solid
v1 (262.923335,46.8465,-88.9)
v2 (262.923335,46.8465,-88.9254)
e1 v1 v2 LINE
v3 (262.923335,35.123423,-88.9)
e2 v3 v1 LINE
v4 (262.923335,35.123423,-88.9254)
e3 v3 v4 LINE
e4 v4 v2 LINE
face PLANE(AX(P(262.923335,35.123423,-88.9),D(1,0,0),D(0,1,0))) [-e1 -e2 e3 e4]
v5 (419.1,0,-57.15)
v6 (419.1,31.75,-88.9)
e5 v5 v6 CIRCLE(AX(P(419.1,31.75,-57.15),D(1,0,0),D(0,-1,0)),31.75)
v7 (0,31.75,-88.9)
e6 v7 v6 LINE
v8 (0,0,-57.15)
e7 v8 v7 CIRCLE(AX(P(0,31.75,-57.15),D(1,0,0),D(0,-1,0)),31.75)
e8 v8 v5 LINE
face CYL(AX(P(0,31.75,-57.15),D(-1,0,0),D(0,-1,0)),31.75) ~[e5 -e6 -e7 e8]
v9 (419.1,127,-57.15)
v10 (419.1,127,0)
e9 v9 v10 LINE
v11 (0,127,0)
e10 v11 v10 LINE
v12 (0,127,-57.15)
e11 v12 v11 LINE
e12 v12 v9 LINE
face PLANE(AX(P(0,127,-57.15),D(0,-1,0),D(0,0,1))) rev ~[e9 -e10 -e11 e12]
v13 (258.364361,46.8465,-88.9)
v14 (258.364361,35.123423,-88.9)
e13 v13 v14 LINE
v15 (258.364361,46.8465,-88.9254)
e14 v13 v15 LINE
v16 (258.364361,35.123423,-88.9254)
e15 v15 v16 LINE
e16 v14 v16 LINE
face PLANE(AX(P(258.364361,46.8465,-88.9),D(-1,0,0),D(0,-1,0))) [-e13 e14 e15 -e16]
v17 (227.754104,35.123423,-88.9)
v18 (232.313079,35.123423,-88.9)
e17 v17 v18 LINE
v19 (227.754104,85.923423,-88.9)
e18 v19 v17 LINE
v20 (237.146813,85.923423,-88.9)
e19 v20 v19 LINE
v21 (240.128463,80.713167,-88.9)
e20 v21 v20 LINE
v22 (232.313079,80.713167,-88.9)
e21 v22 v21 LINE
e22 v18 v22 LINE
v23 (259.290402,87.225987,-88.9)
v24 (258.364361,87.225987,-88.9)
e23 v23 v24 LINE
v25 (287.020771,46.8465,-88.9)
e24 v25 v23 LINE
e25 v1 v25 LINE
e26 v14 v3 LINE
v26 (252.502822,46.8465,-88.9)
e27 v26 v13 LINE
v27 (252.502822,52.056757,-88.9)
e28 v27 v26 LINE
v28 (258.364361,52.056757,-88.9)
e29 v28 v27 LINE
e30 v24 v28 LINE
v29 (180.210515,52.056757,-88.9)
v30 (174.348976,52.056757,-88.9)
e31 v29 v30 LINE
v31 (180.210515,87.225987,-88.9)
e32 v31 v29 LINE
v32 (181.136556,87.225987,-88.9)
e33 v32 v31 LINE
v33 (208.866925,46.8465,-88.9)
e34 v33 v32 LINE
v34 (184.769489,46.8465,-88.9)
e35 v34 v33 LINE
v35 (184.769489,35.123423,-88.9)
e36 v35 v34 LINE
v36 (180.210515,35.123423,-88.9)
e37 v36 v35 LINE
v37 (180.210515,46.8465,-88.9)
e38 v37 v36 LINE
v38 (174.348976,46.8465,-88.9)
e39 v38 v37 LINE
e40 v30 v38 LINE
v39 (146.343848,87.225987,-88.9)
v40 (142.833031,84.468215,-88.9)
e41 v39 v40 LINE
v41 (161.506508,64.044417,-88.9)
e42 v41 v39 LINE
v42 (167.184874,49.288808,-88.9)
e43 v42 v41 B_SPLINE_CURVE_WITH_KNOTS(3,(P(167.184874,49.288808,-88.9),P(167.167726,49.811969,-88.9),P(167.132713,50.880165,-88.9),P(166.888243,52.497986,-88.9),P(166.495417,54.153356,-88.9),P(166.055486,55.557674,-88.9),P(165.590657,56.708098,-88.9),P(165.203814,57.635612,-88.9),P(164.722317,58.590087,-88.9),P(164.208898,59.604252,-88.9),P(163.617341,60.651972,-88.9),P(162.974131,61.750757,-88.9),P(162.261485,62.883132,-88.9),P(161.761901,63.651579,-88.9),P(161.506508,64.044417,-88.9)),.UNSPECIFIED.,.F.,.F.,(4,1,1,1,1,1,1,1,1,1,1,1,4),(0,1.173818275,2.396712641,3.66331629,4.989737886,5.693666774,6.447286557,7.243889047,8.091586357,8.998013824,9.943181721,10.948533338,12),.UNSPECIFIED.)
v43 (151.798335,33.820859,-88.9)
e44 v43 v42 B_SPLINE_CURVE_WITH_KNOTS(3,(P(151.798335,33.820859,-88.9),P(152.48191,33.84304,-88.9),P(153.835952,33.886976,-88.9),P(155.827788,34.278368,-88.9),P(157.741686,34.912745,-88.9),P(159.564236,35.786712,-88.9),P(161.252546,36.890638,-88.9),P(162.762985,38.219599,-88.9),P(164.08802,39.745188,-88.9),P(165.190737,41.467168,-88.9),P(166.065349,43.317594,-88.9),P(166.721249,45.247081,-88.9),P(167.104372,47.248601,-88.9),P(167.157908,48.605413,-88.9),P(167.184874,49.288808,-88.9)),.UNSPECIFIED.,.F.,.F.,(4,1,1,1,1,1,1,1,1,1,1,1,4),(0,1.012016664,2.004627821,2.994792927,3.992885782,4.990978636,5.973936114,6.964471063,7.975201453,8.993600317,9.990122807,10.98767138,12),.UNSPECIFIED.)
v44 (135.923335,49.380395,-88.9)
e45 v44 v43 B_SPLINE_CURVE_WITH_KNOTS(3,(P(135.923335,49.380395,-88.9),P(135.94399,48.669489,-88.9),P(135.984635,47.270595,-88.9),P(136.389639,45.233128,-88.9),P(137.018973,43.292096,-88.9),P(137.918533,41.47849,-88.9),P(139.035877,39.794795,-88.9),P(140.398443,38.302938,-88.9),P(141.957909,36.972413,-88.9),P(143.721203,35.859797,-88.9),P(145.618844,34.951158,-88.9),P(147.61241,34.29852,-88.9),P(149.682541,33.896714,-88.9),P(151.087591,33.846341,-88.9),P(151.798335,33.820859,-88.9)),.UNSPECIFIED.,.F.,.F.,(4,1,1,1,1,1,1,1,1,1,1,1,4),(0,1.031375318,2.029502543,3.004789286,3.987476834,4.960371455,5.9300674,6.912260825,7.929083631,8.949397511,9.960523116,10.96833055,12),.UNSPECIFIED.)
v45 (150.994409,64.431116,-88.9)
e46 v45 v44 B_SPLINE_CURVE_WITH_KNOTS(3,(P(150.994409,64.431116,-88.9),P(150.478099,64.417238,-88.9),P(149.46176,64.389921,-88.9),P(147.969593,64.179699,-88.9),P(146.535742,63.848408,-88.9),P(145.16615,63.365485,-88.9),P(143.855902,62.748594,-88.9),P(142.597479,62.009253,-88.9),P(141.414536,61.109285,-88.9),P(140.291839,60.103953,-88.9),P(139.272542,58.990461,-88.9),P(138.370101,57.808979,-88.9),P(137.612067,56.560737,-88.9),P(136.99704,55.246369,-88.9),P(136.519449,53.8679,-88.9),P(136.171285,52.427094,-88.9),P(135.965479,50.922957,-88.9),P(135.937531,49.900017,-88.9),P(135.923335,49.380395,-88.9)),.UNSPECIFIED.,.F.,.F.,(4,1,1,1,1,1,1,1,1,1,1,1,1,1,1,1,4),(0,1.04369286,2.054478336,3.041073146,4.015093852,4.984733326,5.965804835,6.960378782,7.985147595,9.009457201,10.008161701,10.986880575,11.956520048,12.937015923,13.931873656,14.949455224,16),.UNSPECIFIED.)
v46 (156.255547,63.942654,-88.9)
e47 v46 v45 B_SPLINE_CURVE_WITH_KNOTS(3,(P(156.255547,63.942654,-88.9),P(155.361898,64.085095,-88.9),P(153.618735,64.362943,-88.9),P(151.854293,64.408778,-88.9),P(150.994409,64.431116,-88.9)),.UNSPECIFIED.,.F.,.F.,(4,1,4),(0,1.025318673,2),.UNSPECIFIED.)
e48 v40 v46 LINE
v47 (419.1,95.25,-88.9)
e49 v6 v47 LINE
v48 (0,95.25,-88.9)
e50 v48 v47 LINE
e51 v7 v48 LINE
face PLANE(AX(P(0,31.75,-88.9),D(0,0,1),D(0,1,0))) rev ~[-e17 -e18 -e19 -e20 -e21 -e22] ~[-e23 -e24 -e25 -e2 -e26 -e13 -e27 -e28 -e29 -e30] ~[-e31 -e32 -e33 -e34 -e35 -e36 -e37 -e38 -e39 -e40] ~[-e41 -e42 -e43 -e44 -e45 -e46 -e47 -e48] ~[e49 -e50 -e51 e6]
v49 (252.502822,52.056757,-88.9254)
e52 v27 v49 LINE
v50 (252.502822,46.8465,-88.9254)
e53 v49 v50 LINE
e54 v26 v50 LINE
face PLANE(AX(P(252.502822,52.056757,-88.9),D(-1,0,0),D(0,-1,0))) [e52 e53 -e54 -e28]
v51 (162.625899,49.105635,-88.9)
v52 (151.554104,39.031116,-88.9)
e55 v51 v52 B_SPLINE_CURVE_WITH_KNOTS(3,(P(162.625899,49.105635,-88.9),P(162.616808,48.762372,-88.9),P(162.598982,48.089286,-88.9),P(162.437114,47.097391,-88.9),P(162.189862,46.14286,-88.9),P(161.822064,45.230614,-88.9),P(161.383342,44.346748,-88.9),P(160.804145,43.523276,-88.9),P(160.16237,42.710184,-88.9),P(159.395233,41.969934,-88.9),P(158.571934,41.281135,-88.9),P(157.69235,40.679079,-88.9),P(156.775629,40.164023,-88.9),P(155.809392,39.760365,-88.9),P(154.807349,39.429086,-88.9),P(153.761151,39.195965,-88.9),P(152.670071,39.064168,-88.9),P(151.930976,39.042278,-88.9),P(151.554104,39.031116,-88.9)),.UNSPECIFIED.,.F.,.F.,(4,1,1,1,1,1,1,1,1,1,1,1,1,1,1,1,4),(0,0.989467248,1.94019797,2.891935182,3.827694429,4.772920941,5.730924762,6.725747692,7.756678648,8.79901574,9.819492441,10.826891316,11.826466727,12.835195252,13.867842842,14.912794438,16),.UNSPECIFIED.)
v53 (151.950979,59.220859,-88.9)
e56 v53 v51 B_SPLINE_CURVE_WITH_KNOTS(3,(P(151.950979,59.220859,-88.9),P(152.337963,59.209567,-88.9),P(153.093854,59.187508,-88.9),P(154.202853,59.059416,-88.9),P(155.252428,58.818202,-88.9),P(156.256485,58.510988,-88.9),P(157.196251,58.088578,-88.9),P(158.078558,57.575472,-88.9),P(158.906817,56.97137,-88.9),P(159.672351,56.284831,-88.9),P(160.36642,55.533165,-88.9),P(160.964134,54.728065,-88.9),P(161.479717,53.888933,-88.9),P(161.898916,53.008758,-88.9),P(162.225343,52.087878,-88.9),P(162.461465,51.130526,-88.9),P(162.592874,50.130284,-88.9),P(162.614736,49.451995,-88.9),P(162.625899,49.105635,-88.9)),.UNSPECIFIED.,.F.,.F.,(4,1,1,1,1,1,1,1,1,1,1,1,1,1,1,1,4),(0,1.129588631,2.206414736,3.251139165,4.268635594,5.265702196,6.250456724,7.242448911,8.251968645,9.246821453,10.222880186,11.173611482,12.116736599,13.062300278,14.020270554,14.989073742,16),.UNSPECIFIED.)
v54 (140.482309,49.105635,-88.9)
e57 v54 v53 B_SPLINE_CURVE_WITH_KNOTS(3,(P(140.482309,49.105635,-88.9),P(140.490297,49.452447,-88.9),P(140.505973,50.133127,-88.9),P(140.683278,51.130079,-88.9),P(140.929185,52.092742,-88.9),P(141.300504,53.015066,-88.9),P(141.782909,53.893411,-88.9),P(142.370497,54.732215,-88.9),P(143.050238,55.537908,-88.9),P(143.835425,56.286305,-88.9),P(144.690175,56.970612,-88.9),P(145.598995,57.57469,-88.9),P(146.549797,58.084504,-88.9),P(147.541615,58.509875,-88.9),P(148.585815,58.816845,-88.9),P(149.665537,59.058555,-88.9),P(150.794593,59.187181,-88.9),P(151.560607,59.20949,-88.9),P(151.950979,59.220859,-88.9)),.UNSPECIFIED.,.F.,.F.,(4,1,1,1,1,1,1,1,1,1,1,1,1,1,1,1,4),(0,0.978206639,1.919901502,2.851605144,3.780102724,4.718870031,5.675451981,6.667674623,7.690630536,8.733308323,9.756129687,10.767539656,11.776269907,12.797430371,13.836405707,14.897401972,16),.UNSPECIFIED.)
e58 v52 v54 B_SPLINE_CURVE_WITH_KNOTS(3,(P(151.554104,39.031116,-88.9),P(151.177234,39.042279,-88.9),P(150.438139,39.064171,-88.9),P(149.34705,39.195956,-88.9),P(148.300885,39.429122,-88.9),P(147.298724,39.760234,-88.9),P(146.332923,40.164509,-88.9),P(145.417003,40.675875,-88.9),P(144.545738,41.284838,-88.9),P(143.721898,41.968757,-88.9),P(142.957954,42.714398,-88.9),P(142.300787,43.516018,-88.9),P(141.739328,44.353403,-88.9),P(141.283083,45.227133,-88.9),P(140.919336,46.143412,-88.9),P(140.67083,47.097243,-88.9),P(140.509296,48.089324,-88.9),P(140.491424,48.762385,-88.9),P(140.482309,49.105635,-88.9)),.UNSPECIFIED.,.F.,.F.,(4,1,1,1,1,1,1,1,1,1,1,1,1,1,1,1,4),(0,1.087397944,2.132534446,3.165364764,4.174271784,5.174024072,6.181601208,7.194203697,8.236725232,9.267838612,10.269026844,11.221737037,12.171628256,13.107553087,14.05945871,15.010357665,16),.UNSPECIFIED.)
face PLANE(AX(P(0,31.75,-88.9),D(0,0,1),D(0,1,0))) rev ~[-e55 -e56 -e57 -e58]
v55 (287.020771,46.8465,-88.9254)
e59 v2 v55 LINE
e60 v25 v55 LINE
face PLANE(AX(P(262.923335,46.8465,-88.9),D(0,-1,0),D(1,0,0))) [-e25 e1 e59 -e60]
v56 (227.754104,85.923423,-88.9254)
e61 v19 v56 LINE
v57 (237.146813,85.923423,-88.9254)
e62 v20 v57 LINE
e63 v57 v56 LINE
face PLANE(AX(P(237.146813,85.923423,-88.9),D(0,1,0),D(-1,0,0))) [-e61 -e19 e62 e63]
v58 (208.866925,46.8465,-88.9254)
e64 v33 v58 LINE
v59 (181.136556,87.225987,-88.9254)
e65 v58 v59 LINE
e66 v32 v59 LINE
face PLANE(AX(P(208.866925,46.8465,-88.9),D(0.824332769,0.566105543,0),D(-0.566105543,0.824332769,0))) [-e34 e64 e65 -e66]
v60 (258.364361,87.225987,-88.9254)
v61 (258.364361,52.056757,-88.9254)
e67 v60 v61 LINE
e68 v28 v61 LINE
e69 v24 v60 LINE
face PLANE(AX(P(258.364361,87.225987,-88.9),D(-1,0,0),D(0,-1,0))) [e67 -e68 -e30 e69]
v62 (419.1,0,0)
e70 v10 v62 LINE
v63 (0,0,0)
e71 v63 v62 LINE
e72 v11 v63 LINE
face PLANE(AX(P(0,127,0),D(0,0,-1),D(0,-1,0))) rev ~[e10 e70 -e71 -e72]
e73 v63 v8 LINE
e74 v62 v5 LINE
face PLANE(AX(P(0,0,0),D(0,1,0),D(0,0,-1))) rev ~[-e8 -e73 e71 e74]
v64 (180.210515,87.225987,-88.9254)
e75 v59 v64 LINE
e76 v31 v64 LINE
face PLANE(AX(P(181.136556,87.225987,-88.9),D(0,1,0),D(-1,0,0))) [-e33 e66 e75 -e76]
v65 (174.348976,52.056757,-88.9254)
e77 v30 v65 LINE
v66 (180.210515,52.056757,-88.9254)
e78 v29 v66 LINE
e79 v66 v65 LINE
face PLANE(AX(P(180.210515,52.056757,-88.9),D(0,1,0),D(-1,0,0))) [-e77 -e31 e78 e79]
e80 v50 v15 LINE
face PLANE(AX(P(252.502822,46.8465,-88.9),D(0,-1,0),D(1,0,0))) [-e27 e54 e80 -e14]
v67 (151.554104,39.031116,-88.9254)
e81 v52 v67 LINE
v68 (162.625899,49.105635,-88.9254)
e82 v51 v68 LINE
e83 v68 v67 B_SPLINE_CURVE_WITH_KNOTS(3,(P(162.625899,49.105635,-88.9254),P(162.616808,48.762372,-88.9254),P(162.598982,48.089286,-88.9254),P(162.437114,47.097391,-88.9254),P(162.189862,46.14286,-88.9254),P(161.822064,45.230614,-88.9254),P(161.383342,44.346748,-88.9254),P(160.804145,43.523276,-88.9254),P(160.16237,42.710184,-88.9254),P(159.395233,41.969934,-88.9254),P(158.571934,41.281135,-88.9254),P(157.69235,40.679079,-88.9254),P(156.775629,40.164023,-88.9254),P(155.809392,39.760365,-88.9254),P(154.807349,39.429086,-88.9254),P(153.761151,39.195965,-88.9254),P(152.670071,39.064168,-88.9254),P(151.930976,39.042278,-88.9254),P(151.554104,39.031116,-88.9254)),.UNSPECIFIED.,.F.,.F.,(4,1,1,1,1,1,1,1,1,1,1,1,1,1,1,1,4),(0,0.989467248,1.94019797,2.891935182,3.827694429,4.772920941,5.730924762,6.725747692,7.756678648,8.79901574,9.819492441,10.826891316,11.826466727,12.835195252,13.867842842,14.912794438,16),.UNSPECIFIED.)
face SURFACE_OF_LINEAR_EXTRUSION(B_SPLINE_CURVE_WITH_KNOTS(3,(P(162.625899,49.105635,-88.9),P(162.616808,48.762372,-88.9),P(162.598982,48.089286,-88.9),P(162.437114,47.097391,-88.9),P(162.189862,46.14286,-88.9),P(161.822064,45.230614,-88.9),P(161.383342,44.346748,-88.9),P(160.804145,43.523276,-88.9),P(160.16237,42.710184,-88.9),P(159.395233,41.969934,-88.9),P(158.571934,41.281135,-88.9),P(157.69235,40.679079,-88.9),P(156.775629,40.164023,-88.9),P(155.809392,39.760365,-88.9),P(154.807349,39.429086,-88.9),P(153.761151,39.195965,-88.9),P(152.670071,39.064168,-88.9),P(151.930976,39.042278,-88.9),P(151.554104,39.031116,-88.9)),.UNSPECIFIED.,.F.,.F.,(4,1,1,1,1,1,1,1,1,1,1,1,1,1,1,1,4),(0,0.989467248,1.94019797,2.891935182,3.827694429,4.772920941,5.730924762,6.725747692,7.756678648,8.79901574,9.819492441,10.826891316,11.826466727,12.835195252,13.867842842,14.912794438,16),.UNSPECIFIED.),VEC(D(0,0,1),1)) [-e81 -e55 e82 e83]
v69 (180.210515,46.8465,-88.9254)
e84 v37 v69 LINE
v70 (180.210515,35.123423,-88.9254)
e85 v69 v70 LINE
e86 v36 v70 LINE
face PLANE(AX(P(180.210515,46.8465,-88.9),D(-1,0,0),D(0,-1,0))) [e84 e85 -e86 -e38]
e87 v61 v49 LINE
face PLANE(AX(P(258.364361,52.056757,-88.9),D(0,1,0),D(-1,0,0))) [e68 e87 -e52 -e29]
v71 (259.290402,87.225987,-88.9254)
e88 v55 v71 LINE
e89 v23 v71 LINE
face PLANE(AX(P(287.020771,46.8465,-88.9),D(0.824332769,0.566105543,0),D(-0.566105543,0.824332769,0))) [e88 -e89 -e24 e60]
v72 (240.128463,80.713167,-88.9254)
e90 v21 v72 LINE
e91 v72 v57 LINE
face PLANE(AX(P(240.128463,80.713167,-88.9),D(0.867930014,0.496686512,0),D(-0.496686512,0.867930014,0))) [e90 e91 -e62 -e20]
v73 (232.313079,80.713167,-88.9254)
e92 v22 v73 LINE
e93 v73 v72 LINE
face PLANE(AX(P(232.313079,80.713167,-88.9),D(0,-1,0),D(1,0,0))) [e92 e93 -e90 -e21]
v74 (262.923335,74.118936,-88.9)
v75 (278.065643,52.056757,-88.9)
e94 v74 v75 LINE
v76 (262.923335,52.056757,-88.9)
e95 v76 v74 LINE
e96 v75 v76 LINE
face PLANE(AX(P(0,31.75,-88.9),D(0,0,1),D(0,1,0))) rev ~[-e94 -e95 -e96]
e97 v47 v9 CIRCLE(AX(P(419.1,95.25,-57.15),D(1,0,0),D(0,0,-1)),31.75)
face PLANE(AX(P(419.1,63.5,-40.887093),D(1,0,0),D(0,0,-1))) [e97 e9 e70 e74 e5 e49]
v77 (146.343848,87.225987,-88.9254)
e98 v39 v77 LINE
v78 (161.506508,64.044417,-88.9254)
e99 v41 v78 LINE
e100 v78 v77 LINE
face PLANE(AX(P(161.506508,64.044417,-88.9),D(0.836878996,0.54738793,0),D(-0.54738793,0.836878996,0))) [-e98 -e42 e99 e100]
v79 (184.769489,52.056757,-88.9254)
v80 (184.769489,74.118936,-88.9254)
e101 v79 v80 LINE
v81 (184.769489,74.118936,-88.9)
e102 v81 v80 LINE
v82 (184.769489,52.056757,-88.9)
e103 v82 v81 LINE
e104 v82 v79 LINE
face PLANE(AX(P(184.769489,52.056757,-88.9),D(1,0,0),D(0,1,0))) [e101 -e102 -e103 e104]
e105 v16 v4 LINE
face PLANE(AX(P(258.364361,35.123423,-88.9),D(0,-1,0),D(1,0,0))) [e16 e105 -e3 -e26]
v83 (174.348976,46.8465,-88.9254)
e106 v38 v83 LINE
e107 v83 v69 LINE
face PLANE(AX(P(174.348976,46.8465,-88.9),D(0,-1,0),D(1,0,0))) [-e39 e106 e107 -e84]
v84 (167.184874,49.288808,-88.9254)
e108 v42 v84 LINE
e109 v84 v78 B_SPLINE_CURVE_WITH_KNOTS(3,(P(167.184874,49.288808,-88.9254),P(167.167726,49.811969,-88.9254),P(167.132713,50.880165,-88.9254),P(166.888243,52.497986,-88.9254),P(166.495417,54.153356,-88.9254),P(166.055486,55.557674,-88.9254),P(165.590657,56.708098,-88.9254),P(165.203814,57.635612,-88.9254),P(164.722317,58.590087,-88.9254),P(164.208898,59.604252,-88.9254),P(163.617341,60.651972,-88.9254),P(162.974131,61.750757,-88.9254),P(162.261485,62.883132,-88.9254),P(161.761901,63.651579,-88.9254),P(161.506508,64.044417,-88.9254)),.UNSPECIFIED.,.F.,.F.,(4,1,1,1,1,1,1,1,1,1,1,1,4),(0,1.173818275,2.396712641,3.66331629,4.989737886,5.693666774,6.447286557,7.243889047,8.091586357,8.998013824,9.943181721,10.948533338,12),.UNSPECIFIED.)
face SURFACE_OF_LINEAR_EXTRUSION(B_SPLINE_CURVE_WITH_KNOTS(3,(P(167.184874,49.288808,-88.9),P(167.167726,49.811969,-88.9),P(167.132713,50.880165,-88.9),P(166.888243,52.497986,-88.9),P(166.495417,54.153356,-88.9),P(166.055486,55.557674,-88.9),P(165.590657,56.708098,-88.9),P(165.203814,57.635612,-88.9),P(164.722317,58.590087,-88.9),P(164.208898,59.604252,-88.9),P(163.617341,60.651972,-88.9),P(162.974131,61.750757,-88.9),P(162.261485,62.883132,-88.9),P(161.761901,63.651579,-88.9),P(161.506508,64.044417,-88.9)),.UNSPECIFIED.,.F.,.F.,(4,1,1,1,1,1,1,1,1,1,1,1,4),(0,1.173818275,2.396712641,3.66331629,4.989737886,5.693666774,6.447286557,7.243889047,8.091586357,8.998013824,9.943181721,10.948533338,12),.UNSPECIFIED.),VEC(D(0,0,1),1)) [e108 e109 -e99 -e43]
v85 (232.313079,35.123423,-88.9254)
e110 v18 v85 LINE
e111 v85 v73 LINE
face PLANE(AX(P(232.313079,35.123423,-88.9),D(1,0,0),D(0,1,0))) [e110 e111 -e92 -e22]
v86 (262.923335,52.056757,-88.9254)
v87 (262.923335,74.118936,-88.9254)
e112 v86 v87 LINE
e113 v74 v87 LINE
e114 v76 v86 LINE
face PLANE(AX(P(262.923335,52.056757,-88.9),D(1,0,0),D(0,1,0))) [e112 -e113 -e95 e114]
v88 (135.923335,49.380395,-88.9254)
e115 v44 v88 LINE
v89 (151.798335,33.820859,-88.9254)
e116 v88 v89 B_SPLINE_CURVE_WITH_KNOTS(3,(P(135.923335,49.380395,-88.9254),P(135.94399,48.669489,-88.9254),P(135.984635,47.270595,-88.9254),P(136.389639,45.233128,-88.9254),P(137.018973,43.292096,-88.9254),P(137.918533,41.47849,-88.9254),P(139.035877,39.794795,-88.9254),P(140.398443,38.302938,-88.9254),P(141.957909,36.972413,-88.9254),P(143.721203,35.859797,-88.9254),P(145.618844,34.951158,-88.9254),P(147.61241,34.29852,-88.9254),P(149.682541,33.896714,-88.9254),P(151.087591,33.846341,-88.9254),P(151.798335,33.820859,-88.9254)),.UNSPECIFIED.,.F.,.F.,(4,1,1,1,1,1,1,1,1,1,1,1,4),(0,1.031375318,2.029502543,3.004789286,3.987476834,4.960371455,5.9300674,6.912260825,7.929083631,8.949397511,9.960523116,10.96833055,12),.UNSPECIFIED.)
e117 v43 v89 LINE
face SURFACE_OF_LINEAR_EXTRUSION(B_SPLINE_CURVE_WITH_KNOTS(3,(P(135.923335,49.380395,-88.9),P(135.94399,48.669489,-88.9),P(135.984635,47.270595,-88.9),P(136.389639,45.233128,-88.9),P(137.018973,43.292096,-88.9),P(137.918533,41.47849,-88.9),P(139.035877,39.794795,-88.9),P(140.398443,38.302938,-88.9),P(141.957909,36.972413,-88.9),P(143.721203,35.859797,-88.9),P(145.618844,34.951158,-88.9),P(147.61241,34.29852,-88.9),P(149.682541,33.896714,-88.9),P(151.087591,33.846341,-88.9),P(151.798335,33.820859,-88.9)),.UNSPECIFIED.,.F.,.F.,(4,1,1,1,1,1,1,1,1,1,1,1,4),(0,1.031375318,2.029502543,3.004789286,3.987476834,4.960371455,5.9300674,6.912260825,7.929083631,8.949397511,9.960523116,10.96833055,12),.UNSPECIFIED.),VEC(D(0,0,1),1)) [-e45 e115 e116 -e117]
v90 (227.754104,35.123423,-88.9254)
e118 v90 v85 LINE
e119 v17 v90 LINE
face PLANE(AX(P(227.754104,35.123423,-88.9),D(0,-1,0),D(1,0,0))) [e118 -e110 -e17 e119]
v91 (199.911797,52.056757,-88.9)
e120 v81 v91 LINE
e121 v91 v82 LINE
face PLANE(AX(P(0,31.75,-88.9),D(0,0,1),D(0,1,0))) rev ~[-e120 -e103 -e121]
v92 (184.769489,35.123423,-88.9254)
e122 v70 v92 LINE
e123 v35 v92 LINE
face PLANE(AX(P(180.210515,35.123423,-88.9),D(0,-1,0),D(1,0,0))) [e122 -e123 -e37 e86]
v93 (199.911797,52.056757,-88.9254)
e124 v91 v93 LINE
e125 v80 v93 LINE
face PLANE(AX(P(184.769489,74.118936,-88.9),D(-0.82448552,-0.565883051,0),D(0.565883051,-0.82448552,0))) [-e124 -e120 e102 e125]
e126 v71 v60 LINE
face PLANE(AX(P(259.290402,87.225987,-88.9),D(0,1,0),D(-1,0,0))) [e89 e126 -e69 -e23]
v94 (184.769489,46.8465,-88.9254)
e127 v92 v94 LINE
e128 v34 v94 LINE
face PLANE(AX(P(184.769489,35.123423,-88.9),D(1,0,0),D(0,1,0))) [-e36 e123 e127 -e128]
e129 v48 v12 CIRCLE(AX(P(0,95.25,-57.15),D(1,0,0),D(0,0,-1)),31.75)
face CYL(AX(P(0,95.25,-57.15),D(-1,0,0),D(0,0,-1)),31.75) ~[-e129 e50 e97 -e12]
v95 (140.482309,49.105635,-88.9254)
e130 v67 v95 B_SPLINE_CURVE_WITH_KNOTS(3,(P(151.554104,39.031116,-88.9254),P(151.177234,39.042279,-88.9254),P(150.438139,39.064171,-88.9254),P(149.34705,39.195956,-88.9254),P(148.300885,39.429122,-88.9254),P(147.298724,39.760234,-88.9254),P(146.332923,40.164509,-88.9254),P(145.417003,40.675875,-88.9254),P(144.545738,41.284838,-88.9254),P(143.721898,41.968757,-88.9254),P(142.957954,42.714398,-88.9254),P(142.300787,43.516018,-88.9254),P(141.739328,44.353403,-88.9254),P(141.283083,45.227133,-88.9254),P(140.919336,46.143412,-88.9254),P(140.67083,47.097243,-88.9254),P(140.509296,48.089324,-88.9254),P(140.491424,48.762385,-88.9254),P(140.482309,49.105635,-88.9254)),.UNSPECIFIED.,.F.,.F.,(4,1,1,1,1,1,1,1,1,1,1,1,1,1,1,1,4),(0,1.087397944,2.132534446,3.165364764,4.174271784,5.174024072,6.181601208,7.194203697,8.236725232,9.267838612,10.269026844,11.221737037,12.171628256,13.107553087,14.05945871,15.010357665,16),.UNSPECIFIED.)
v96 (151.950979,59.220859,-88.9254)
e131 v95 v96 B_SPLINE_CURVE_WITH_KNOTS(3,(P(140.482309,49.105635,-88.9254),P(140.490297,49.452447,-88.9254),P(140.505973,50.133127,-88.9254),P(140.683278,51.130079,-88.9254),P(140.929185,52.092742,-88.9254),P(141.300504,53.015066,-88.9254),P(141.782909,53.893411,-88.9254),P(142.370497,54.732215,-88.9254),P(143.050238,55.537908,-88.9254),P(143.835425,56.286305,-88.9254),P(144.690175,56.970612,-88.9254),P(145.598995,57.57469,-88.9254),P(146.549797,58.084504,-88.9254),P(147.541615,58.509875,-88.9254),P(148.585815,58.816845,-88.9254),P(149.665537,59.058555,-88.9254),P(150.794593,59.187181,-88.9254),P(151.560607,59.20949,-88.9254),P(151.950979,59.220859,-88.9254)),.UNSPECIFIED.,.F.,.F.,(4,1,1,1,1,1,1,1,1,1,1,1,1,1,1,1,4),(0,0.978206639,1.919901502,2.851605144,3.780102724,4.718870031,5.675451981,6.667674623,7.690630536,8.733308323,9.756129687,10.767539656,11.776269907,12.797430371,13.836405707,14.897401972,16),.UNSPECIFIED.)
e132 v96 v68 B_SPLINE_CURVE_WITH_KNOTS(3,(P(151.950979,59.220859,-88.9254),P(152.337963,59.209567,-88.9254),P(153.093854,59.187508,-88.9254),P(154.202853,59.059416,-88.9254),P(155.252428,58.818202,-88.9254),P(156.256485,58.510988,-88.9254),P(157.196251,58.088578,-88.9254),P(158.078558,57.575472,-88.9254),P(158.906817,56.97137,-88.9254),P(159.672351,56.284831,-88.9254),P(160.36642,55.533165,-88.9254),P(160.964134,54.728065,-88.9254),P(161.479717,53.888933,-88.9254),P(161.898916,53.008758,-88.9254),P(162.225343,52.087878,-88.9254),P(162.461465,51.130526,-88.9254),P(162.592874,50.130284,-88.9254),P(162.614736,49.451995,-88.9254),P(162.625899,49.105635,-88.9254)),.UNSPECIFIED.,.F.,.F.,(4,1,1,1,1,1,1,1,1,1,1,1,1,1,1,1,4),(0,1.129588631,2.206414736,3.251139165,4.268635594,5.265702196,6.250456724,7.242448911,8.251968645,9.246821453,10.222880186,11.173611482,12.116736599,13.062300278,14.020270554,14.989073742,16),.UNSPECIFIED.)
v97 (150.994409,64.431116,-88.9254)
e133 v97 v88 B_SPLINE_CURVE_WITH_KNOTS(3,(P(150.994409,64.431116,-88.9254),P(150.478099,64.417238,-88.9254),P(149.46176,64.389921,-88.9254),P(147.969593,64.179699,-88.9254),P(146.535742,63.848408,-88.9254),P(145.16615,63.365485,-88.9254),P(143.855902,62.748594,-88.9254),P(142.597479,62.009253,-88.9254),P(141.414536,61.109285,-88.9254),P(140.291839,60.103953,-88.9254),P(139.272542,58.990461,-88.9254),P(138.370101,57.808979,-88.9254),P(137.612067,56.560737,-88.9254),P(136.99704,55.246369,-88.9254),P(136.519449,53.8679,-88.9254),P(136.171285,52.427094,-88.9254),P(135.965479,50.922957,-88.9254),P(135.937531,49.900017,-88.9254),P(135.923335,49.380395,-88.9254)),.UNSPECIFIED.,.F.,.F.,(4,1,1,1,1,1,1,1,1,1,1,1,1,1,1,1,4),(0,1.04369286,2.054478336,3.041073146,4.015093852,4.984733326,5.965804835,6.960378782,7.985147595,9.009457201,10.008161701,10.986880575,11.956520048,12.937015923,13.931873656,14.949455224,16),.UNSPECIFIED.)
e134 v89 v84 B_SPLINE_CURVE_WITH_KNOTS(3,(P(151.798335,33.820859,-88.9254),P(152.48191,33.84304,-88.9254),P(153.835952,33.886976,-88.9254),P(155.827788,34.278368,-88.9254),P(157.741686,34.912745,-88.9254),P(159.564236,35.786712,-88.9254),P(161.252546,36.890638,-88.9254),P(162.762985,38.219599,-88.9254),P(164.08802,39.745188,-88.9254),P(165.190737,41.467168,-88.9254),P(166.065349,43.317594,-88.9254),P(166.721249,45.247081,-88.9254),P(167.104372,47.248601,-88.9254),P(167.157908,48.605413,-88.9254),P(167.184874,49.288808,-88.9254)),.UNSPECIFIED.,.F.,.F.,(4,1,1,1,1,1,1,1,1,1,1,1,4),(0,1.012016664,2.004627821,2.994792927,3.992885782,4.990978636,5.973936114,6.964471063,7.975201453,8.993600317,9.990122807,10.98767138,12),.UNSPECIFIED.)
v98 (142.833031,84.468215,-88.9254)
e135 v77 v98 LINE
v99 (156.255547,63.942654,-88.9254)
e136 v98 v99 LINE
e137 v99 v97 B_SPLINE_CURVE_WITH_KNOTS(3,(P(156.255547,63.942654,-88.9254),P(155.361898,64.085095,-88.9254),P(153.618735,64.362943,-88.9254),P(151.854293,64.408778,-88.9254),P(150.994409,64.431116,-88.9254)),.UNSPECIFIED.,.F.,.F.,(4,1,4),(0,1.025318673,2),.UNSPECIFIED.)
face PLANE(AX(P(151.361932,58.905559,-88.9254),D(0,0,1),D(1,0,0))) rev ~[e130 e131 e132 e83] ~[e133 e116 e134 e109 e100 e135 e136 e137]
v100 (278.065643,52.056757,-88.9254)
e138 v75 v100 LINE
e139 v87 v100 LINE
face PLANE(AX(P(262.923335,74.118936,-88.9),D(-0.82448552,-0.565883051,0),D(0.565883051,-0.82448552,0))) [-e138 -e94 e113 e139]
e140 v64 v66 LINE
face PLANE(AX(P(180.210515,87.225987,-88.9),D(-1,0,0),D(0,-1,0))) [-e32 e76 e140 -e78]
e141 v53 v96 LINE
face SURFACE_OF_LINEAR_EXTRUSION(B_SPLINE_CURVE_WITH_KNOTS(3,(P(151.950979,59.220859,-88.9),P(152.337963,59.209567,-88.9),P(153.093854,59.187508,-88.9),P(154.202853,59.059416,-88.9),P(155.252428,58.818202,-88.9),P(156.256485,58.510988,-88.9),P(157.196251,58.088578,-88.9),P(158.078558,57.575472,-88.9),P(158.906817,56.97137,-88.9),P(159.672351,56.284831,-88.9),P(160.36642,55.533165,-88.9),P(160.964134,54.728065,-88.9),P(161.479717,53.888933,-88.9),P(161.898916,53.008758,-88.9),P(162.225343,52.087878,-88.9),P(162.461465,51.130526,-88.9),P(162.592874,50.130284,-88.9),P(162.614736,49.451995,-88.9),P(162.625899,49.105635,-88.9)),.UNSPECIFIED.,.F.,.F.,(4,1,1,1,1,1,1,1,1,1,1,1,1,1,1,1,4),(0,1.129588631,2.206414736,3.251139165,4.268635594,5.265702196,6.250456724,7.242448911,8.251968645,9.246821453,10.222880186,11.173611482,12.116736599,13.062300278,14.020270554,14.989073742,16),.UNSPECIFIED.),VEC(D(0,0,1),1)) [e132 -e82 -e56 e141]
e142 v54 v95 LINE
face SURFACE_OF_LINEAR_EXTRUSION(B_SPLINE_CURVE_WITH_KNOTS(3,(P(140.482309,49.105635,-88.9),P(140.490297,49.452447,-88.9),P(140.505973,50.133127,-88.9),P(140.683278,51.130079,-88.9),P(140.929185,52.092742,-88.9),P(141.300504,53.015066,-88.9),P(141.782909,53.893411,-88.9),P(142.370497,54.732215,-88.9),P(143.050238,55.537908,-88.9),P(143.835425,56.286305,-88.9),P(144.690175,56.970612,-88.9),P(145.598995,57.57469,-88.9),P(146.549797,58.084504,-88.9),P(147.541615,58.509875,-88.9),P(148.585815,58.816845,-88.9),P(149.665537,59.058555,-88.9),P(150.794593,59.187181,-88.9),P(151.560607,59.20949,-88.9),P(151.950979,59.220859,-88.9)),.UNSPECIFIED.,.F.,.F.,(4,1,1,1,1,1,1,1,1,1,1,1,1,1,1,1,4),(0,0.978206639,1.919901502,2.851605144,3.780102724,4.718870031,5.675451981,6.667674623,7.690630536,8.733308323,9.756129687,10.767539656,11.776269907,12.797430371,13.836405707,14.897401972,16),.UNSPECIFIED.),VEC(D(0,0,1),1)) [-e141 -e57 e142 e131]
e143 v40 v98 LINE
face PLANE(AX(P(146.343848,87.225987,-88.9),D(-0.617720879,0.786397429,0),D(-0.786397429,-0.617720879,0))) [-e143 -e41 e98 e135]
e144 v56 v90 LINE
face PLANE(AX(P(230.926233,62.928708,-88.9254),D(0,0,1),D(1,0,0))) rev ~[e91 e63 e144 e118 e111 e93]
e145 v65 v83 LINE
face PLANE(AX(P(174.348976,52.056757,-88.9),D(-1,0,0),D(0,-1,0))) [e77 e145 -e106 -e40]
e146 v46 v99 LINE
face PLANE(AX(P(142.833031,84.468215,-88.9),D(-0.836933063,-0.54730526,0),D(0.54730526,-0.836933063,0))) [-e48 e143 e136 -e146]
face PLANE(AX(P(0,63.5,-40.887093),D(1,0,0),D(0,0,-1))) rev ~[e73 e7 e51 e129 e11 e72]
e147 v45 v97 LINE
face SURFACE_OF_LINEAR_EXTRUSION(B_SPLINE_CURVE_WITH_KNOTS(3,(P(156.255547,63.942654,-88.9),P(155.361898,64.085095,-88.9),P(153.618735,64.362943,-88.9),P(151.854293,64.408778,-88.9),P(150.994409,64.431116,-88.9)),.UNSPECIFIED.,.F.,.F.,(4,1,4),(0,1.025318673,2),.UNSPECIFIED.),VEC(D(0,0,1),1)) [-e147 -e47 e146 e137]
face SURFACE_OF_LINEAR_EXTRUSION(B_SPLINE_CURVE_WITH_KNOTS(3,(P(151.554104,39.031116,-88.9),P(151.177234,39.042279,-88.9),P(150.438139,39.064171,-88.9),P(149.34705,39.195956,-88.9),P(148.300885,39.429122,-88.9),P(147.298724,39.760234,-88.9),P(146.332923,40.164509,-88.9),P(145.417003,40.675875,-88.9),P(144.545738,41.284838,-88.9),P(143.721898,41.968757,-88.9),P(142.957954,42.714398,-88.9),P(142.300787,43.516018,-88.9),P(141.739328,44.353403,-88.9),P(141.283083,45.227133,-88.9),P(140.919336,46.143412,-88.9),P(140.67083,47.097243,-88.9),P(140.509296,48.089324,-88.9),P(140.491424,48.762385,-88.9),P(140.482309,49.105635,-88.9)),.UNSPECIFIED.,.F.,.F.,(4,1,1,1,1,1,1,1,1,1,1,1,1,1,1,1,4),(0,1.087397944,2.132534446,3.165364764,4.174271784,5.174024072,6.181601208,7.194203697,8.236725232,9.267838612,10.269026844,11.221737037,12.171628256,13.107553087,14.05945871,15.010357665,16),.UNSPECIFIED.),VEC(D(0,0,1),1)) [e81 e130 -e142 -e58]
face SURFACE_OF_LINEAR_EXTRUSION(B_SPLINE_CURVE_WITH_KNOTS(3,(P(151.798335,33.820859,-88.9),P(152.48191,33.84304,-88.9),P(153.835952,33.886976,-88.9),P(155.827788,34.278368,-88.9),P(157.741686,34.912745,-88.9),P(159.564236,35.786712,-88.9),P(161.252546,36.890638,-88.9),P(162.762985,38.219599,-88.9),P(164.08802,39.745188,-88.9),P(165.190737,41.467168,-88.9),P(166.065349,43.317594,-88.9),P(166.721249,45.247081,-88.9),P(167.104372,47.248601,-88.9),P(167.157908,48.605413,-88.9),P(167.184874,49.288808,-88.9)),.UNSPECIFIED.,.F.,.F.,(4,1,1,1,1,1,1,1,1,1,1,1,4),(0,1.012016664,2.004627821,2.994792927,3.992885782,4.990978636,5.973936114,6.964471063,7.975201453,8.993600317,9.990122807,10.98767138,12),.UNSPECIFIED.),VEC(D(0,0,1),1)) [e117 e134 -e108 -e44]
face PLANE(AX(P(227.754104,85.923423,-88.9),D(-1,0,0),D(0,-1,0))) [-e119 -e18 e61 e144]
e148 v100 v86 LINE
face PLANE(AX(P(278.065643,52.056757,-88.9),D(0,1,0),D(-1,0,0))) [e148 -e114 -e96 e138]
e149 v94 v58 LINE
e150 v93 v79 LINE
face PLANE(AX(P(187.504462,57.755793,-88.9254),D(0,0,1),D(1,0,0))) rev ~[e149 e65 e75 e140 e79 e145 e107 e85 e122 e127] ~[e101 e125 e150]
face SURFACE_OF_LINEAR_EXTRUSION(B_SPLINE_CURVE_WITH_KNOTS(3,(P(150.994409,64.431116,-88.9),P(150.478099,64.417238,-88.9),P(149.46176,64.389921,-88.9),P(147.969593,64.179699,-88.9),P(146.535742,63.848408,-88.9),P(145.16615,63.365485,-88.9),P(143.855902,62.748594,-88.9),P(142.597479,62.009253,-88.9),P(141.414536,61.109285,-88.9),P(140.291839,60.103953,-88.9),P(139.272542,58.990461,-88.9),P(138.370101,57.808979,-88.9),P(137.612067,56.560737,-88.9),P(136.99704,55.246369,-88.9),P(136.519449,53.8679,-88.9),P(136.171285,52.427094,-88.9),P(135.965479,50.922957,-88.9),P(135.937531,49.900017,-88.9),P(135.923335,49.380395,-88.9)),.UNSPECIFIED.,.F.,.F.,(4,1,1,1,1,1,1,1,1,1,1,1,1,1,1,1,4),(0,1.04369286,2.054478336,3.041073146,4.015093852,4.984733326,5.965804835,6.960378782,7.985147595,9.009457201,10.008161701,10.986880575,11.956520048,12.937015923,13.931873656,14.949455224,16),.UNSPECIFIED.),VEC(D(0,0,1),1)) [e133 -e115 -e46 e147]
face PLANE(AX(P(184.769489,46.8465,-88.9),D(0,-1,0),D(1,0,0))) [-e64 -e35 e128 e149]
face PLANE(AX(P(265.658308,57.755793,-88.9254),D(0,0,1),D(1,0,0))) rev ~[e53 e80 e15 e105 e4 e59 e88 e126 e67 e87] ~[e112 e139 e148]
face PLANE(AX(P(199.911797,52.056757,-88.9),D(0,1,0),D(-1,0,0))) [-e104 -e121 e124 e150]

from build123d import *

# Parameters (mm, degrees)
BOSS_EXTRUDE1_DEPTH = 419.1
BOSS_EXTRUDE2_DEPTH = 0.0254


with BuildPart() as part:
    # Sketch1 → Boss-Extrude1 (new body)
    with BuildSketch(Plane(origin=(0, 0, 0), x_dir=(0, 0, -1), z_dir=(1, 0, 0))):
        with BuildLine():
            Line((0, 0), (57.15, 0))
            ThreePointArc((57.15, 0), (79.600640303, 9.299359697), (88.9, 31.75))
            Line((88.9, 31.75), (88.9, 95.25))
            ThreePointArc((88.9, 95.25), (79.600640303, 117.700640303), (57.15, 127))
            Line((57.15, 127), (0, 127))
            Line((0, 127), (0, 0))
        make_face()
    extrude(amount=BOSS_EXTRUDE1_DEPTH)

    # Sketch2 → Boss-Extrude2 (add)
    # profile 1 of 4: a face of its own
    with BuildSketch(Plane(origin=(0, 0, -88.9), x_dir=(-1, 0, 0), z_dir=(0, 0, -1))):
        Polygon((-259.290402428, 87.225987453), (-258.364360761, 87.225987453), (-258.364360761, 52.056756684), (-252.5028223, 52.056756684), (-252.5028223, 46.846500274), (-258.364360761, 46.846500274), (-258.364360761, 35.123423351), (-262.92333512, 35.123423351), (-262.92333512, 46.846500274), (-287.020771018, 46.846500274), align=None)
        Polygon((-262.92333512, 52.056756684), (-262.92333512, 74.118936171), (-278.065642812, 52.056756684), align=None, mode=Mode.SUBTRACT)
    # profile 2 of 4: a face of its own
    with BuildSketch(Plane(origin=(0, 0, -88.9), x_dir=(-1, 0, 0), z_dir=(0, 0, -1))):
        Polygon((-237.146812684, 85.923423351), (-227.754104351, 85.923423351), (-227.754104351, 35.123423351), (-232.31307871, 35.123423351), (-232.31307871, 80.71316694), (-240.128463325, 80.71316694), align=None)
    # profile 3 of 4: a face of its own
    with BuildSketch(Plane(origin=(0, 0, -88.9), x_dir=(-1, 0, 0), z_dir=(0, 0, -1))):
        Polygon((-181.136556274, 87.225987453), (-180.210514607, 87.225987453), (-180.210514607, 52.056756684), (-174.348976146, 52.056756684), (-174.348976146, 46.846500274), (-180.210514607, 46.846500274), (-180.210514607, 35.123423351), (-184.769488966, 35.123423351), (-184.769488966, 46.846500274), (-208.866924864, 46.846500274), align=None)
        Polygon((-184.769488966, 52.056756684), (-184.769488966, 74.118936171), (-199.911796659, 52.056756684), align=None, mode=Mode.SUBTRACT)
    # profile 4 of 4: a face of its own
    with BuildSketch(Plane(origin=(0, 0, -88.9), x_dir=(-1, 0, 0), z_dir=(0, 0, -1))):
        with BuildLine():
            Line((-146.343847941, 87.225987453), (-142.833030633, 84.468215017))
            Line((-142.833030633, 84.468215017), (-156.255546659, 63.94265412))
            add(Edge.make_bspline(
                [(-156.255546659, 63.94265412), (-155.361898067, 64.085095297), (-153.618735447, 64.362942919), (-151.854293263, 64.408778242), (-150.994408838, 64.431115658)],
                knots=[0, 0, 0, 0, 1.025318673, 2, 2, 2, 2], degree=3))
            add(Edge.make_bspline(
                [(-150.994408838, 64.431115658), (-150.478099463, 64.41723838), (-149.461759822, 64.38992137), (-147.969592522, 64.179698623), (-146.53574168, 63.848408427), (-145.166150279, 63.365485398), (-143.855902428, 62.748594083), (-142.597479079, 62.009252766), (-141.414535618, 61.109284606), (-140.291838502, 60.103953247), (-139.272542346, 58.990461015), (-138.370101311, 57.808978757), (-137.612066734, 56.560737398), (-136.997039528, 55.246369173), (-136.519448719, 53.867900148), (-136.171285185, 52.427094009), (-135.965478524, 50.922957224), (-135.937531401, 49.900016851), (-135.92333512, 49.380394504)],
                knots=[0, 0, 0, 0, 1.04369286, 2.054478336, 3.041073146, 4.015093852, 4.984733326, 5.965804835, 6.960378782, 7.985147595, 9.009457201, 10.008161701, 10.986880575, 11.956520048, 12.937015923, 13.931873656, 14.949455224, 16, 16, 16, 16], degree=3))
            add(Edge.make_bspline(
                [(-135.92333512, 49.380394504), (-135.943990471, 48.669489087), (-135.984635313, 47.270595467), (-136.389638981, 45.233127843), (-137.018973254, 43.292095903), (-137.918532809, 41.478489873), (-139.03587711, 39.794795434), (-140.398443313, 38.302937822), (-141.9579088, 36.972412709), (-143.7212029, 35.859796636), (-145.618843636, 34.951158067), (-147.61240977, 34.298519696), (-149.682540922, 33.896713912), (-151.087590662, 33.846340593), (-151.79833512, 33.820859248)],
                knots=[0, 0, 0, 0, 1.031375318, 2.029502543, 3.004789286, 3.987476834, 4.960371455, 5.9300674, 6.912260825, 7.929083631, 8.949397511, 9.960523116, 10.96833055, 12, 12, 12, 12], degree=3))
            add(Edge.make_bspline(
                [(-151.79833512, 33.820859248), (-152.48191009, 33.843040063), (-153.83595242, 33.886976373), (-155.827788404, 34.2783677), (-157.741685913, 34.912745078), (-159.564235785, 35.78671232), (-161.252546395, 36.890638164), (-162.762984775, 38.219599244), (-164.088019675, 39.745188052), (-165.19073703, 41.467167949), (-166.065349482, 43.317593618), (-166.721248967, 45.247081488), (-167.104371583, 47.248601223), (-167.157908351, 48.605413186), (-167.184873582, 49.288807966)],
                knots=[0, 0, 0, 0, 1.012016664, 2.004627821, 2.994792927, 3.992885782, 4.990978636, 5.973936114, 6.964471063, 7.975201453, 8.993600317, 9.990122807, 10.98767138, 12, 12, 12, 12], degree=3))
            add(Edge.make_bspline(
                [(-167.184873582, 49.288807966), (-167.167725751, 49.811969345), (-167.132713158, 50.880164923), (-166.888243378, 52.497985671), (-166.495417214, 54.153355657), (-166.055485638, 55.557673667), (-165.590656784, 56.708098043), (-165.203814209, 57.635611564), (-164.722317353, 58.59008657), (-164.208897991, 59.604252486), (-163.617341151, 60.651972481), (-162.974131154, 61.750757169), (-162.261484792, 62.883131662), (-161.761900716, 63.651578839), (-161.506508197, 64.04441694)],
                knots=[0, 0, 0, 0, 1.173818275, 2.396712641, 3.66331629, 4.989737886, 5.693666774, 6.447286557, 7.243889047, 8.091586357, 8.998013824, 9.943181721, 10.948533338, 12, 12, 12, 12], degree=3))
            Line((-161.506508197, 64.04441694), (-146.343847941, 87.225987453))
        make_face()
        with BuildLine():
            add(Edge.make_bspline(
                [(-151.950979351, 59.220859248), (-152.33796279, 59.2095665), (-153.093853864, 59.187508482), (-154.202852912, 59.059416254), (-155.252428104, 58.818202388), (-156.256484787, 58.510988198), (-157.196251446, 58.088578074), (-158.078558036, 57.575471964), (-158.906816503, 56.971370292), (-159.672351483, 56.284831354), (-160.366419739, 55.533165047), (-160.964134437, 54.728064553), (-161.479716702, 53.888932691), (-161.898915673, 53.008758216), (-162.225343058, 52.087877593), (-162.461465099, 51.130526202), (-162.592873831, 50.130284273), (-162.614735706, 49.451995376), (-162.625899223, 49.105634889)],
                knots=[0, 0, 0, 0, 1.129588631, 2.206414736, 3.251139165, 4.268635594, 5.265702196, 6.250456724, 7.242448911, 8.251968645, 9.246821453, 10.222880186, 11.173611482, 12.116736599, 13.062300278, 14.020270554, 14.989073742, 16, 16, 16, 16], degree=3))
            add(Edge.make_bspline(
                [(-162.625899223, 49.105634889), (-162.616808033, 48.762372324), (-162.598981564, 48.089285536), (-162.437113607, 47.097391158), (-162.189861555, 46.142860487), (-161.822063809, 45.230614425), (-161.383342118, 44.346747866), (-160.804144842, 43.523275723), (-160.162369779, 42.71018442), (-159.395232687, 41.969934491), (-158.57193359, 41.281135489), (-157.692350423, 40.679079238), (-156.77562872, 40.164022778), (-155.809392079, 39.760364562), (-154.807349249, 39.429086341), (-153.761151493, 39.195965442), (-152.67007119, 39.064168093), (-151.930975632, 39.04227774), (-151.554104351, 39.031115658)],
                knots=[0, 0, 0, 0, 0.989467248, 1.94019797, 2.891935182, 3.827694429, 4.772920941, 5.730924762, 6.725747692, 7.756678648, 8.79901574, 9.819492441, 10.826891316, 11.826466727, 12.835195252, 13.867842842, 14.912794438, 16, 16, 16, 16], degree=3))
            add(Edge.make_bspline(
                [(-151.554104351, 39.031115658), (-151.177233687, 39.042278616), (-150.43813934, 39.064170685), (-149.34705026, 39.195955593), (-148.30088495, 39.429122483), (-147.298724196, 39.760233548), (-146.332922854, 40.164508796), (-145.417002896, 40.675874945), (-144.545737995, 41.284838026), (-143.721898436, 41.968757384), (-142.957954417, 42.714397635), (-142.300787055, 43.516017606), (-141.739327555, 44.353403287), (-141.283082783, 45.22713266), (-140.919336041, 46.143412081), (-140.670830174, 47.097243388), (-140.509296495, 48.089324222), (-140.491424093, 48.76238539), (-140.482309479, 49.105634889)],
                knots=[0, 0, 0, 0, 1.087397944, 2.132534446, 3.165364764, 4.174271784, 5.174024072, 6.181601208, 7.194203697, 8.236725232, 9.267838612, 10.269026844, 11.221737037, 12.171628256, 13.107553087, 14.05945871, 15.010357665, 16, 16, 16, 16], degree=3))
            add(Edge.make_bspline(
                [(-140.482309479, 49.105634889), (-140.490296589, 49.452447228), (-140.505972688, 50.13312706), (-140.683278456, 51.130078776), (-140.929184911, 52.092741769), (-141.300504328, 53.01506583), (-141.782909034, 53.893411288), (-142.370496771, 54.732215095), (-143.050238077, 55.537908136), (-143.835425223, 56.286305469), (-144.690174904, 56.970611629), (-145.598995401, 57.574689762), (-146.549796847, 58.084503709), (-147.541615212, 58.509875365), (-148.585814766, 58.816844875), (-149.665537403, 59.058554803), (-150.794592696, 59.18718066), (-151.560607469, 59.209490063), (-151.950979351, 59.220859248)],
                knots=[0, 0, 0, 0, 0.978206639, 1.919901502, 2.851605144, 3.780102724, 4.718870031, 5.675451981, 6.667674623, 7.690630536, 8.733308323, 9.756129687, 10.767539656, 11.776269907, 12.797430371, 13.836405707, 14.897401972, 16, 16, 16, 16], degree=3))
        make_face(mode=Mode.SUBTRACT)
    extrude(amount=BOSS_EXTRUDE2_DEPTH)


solid = part.part
